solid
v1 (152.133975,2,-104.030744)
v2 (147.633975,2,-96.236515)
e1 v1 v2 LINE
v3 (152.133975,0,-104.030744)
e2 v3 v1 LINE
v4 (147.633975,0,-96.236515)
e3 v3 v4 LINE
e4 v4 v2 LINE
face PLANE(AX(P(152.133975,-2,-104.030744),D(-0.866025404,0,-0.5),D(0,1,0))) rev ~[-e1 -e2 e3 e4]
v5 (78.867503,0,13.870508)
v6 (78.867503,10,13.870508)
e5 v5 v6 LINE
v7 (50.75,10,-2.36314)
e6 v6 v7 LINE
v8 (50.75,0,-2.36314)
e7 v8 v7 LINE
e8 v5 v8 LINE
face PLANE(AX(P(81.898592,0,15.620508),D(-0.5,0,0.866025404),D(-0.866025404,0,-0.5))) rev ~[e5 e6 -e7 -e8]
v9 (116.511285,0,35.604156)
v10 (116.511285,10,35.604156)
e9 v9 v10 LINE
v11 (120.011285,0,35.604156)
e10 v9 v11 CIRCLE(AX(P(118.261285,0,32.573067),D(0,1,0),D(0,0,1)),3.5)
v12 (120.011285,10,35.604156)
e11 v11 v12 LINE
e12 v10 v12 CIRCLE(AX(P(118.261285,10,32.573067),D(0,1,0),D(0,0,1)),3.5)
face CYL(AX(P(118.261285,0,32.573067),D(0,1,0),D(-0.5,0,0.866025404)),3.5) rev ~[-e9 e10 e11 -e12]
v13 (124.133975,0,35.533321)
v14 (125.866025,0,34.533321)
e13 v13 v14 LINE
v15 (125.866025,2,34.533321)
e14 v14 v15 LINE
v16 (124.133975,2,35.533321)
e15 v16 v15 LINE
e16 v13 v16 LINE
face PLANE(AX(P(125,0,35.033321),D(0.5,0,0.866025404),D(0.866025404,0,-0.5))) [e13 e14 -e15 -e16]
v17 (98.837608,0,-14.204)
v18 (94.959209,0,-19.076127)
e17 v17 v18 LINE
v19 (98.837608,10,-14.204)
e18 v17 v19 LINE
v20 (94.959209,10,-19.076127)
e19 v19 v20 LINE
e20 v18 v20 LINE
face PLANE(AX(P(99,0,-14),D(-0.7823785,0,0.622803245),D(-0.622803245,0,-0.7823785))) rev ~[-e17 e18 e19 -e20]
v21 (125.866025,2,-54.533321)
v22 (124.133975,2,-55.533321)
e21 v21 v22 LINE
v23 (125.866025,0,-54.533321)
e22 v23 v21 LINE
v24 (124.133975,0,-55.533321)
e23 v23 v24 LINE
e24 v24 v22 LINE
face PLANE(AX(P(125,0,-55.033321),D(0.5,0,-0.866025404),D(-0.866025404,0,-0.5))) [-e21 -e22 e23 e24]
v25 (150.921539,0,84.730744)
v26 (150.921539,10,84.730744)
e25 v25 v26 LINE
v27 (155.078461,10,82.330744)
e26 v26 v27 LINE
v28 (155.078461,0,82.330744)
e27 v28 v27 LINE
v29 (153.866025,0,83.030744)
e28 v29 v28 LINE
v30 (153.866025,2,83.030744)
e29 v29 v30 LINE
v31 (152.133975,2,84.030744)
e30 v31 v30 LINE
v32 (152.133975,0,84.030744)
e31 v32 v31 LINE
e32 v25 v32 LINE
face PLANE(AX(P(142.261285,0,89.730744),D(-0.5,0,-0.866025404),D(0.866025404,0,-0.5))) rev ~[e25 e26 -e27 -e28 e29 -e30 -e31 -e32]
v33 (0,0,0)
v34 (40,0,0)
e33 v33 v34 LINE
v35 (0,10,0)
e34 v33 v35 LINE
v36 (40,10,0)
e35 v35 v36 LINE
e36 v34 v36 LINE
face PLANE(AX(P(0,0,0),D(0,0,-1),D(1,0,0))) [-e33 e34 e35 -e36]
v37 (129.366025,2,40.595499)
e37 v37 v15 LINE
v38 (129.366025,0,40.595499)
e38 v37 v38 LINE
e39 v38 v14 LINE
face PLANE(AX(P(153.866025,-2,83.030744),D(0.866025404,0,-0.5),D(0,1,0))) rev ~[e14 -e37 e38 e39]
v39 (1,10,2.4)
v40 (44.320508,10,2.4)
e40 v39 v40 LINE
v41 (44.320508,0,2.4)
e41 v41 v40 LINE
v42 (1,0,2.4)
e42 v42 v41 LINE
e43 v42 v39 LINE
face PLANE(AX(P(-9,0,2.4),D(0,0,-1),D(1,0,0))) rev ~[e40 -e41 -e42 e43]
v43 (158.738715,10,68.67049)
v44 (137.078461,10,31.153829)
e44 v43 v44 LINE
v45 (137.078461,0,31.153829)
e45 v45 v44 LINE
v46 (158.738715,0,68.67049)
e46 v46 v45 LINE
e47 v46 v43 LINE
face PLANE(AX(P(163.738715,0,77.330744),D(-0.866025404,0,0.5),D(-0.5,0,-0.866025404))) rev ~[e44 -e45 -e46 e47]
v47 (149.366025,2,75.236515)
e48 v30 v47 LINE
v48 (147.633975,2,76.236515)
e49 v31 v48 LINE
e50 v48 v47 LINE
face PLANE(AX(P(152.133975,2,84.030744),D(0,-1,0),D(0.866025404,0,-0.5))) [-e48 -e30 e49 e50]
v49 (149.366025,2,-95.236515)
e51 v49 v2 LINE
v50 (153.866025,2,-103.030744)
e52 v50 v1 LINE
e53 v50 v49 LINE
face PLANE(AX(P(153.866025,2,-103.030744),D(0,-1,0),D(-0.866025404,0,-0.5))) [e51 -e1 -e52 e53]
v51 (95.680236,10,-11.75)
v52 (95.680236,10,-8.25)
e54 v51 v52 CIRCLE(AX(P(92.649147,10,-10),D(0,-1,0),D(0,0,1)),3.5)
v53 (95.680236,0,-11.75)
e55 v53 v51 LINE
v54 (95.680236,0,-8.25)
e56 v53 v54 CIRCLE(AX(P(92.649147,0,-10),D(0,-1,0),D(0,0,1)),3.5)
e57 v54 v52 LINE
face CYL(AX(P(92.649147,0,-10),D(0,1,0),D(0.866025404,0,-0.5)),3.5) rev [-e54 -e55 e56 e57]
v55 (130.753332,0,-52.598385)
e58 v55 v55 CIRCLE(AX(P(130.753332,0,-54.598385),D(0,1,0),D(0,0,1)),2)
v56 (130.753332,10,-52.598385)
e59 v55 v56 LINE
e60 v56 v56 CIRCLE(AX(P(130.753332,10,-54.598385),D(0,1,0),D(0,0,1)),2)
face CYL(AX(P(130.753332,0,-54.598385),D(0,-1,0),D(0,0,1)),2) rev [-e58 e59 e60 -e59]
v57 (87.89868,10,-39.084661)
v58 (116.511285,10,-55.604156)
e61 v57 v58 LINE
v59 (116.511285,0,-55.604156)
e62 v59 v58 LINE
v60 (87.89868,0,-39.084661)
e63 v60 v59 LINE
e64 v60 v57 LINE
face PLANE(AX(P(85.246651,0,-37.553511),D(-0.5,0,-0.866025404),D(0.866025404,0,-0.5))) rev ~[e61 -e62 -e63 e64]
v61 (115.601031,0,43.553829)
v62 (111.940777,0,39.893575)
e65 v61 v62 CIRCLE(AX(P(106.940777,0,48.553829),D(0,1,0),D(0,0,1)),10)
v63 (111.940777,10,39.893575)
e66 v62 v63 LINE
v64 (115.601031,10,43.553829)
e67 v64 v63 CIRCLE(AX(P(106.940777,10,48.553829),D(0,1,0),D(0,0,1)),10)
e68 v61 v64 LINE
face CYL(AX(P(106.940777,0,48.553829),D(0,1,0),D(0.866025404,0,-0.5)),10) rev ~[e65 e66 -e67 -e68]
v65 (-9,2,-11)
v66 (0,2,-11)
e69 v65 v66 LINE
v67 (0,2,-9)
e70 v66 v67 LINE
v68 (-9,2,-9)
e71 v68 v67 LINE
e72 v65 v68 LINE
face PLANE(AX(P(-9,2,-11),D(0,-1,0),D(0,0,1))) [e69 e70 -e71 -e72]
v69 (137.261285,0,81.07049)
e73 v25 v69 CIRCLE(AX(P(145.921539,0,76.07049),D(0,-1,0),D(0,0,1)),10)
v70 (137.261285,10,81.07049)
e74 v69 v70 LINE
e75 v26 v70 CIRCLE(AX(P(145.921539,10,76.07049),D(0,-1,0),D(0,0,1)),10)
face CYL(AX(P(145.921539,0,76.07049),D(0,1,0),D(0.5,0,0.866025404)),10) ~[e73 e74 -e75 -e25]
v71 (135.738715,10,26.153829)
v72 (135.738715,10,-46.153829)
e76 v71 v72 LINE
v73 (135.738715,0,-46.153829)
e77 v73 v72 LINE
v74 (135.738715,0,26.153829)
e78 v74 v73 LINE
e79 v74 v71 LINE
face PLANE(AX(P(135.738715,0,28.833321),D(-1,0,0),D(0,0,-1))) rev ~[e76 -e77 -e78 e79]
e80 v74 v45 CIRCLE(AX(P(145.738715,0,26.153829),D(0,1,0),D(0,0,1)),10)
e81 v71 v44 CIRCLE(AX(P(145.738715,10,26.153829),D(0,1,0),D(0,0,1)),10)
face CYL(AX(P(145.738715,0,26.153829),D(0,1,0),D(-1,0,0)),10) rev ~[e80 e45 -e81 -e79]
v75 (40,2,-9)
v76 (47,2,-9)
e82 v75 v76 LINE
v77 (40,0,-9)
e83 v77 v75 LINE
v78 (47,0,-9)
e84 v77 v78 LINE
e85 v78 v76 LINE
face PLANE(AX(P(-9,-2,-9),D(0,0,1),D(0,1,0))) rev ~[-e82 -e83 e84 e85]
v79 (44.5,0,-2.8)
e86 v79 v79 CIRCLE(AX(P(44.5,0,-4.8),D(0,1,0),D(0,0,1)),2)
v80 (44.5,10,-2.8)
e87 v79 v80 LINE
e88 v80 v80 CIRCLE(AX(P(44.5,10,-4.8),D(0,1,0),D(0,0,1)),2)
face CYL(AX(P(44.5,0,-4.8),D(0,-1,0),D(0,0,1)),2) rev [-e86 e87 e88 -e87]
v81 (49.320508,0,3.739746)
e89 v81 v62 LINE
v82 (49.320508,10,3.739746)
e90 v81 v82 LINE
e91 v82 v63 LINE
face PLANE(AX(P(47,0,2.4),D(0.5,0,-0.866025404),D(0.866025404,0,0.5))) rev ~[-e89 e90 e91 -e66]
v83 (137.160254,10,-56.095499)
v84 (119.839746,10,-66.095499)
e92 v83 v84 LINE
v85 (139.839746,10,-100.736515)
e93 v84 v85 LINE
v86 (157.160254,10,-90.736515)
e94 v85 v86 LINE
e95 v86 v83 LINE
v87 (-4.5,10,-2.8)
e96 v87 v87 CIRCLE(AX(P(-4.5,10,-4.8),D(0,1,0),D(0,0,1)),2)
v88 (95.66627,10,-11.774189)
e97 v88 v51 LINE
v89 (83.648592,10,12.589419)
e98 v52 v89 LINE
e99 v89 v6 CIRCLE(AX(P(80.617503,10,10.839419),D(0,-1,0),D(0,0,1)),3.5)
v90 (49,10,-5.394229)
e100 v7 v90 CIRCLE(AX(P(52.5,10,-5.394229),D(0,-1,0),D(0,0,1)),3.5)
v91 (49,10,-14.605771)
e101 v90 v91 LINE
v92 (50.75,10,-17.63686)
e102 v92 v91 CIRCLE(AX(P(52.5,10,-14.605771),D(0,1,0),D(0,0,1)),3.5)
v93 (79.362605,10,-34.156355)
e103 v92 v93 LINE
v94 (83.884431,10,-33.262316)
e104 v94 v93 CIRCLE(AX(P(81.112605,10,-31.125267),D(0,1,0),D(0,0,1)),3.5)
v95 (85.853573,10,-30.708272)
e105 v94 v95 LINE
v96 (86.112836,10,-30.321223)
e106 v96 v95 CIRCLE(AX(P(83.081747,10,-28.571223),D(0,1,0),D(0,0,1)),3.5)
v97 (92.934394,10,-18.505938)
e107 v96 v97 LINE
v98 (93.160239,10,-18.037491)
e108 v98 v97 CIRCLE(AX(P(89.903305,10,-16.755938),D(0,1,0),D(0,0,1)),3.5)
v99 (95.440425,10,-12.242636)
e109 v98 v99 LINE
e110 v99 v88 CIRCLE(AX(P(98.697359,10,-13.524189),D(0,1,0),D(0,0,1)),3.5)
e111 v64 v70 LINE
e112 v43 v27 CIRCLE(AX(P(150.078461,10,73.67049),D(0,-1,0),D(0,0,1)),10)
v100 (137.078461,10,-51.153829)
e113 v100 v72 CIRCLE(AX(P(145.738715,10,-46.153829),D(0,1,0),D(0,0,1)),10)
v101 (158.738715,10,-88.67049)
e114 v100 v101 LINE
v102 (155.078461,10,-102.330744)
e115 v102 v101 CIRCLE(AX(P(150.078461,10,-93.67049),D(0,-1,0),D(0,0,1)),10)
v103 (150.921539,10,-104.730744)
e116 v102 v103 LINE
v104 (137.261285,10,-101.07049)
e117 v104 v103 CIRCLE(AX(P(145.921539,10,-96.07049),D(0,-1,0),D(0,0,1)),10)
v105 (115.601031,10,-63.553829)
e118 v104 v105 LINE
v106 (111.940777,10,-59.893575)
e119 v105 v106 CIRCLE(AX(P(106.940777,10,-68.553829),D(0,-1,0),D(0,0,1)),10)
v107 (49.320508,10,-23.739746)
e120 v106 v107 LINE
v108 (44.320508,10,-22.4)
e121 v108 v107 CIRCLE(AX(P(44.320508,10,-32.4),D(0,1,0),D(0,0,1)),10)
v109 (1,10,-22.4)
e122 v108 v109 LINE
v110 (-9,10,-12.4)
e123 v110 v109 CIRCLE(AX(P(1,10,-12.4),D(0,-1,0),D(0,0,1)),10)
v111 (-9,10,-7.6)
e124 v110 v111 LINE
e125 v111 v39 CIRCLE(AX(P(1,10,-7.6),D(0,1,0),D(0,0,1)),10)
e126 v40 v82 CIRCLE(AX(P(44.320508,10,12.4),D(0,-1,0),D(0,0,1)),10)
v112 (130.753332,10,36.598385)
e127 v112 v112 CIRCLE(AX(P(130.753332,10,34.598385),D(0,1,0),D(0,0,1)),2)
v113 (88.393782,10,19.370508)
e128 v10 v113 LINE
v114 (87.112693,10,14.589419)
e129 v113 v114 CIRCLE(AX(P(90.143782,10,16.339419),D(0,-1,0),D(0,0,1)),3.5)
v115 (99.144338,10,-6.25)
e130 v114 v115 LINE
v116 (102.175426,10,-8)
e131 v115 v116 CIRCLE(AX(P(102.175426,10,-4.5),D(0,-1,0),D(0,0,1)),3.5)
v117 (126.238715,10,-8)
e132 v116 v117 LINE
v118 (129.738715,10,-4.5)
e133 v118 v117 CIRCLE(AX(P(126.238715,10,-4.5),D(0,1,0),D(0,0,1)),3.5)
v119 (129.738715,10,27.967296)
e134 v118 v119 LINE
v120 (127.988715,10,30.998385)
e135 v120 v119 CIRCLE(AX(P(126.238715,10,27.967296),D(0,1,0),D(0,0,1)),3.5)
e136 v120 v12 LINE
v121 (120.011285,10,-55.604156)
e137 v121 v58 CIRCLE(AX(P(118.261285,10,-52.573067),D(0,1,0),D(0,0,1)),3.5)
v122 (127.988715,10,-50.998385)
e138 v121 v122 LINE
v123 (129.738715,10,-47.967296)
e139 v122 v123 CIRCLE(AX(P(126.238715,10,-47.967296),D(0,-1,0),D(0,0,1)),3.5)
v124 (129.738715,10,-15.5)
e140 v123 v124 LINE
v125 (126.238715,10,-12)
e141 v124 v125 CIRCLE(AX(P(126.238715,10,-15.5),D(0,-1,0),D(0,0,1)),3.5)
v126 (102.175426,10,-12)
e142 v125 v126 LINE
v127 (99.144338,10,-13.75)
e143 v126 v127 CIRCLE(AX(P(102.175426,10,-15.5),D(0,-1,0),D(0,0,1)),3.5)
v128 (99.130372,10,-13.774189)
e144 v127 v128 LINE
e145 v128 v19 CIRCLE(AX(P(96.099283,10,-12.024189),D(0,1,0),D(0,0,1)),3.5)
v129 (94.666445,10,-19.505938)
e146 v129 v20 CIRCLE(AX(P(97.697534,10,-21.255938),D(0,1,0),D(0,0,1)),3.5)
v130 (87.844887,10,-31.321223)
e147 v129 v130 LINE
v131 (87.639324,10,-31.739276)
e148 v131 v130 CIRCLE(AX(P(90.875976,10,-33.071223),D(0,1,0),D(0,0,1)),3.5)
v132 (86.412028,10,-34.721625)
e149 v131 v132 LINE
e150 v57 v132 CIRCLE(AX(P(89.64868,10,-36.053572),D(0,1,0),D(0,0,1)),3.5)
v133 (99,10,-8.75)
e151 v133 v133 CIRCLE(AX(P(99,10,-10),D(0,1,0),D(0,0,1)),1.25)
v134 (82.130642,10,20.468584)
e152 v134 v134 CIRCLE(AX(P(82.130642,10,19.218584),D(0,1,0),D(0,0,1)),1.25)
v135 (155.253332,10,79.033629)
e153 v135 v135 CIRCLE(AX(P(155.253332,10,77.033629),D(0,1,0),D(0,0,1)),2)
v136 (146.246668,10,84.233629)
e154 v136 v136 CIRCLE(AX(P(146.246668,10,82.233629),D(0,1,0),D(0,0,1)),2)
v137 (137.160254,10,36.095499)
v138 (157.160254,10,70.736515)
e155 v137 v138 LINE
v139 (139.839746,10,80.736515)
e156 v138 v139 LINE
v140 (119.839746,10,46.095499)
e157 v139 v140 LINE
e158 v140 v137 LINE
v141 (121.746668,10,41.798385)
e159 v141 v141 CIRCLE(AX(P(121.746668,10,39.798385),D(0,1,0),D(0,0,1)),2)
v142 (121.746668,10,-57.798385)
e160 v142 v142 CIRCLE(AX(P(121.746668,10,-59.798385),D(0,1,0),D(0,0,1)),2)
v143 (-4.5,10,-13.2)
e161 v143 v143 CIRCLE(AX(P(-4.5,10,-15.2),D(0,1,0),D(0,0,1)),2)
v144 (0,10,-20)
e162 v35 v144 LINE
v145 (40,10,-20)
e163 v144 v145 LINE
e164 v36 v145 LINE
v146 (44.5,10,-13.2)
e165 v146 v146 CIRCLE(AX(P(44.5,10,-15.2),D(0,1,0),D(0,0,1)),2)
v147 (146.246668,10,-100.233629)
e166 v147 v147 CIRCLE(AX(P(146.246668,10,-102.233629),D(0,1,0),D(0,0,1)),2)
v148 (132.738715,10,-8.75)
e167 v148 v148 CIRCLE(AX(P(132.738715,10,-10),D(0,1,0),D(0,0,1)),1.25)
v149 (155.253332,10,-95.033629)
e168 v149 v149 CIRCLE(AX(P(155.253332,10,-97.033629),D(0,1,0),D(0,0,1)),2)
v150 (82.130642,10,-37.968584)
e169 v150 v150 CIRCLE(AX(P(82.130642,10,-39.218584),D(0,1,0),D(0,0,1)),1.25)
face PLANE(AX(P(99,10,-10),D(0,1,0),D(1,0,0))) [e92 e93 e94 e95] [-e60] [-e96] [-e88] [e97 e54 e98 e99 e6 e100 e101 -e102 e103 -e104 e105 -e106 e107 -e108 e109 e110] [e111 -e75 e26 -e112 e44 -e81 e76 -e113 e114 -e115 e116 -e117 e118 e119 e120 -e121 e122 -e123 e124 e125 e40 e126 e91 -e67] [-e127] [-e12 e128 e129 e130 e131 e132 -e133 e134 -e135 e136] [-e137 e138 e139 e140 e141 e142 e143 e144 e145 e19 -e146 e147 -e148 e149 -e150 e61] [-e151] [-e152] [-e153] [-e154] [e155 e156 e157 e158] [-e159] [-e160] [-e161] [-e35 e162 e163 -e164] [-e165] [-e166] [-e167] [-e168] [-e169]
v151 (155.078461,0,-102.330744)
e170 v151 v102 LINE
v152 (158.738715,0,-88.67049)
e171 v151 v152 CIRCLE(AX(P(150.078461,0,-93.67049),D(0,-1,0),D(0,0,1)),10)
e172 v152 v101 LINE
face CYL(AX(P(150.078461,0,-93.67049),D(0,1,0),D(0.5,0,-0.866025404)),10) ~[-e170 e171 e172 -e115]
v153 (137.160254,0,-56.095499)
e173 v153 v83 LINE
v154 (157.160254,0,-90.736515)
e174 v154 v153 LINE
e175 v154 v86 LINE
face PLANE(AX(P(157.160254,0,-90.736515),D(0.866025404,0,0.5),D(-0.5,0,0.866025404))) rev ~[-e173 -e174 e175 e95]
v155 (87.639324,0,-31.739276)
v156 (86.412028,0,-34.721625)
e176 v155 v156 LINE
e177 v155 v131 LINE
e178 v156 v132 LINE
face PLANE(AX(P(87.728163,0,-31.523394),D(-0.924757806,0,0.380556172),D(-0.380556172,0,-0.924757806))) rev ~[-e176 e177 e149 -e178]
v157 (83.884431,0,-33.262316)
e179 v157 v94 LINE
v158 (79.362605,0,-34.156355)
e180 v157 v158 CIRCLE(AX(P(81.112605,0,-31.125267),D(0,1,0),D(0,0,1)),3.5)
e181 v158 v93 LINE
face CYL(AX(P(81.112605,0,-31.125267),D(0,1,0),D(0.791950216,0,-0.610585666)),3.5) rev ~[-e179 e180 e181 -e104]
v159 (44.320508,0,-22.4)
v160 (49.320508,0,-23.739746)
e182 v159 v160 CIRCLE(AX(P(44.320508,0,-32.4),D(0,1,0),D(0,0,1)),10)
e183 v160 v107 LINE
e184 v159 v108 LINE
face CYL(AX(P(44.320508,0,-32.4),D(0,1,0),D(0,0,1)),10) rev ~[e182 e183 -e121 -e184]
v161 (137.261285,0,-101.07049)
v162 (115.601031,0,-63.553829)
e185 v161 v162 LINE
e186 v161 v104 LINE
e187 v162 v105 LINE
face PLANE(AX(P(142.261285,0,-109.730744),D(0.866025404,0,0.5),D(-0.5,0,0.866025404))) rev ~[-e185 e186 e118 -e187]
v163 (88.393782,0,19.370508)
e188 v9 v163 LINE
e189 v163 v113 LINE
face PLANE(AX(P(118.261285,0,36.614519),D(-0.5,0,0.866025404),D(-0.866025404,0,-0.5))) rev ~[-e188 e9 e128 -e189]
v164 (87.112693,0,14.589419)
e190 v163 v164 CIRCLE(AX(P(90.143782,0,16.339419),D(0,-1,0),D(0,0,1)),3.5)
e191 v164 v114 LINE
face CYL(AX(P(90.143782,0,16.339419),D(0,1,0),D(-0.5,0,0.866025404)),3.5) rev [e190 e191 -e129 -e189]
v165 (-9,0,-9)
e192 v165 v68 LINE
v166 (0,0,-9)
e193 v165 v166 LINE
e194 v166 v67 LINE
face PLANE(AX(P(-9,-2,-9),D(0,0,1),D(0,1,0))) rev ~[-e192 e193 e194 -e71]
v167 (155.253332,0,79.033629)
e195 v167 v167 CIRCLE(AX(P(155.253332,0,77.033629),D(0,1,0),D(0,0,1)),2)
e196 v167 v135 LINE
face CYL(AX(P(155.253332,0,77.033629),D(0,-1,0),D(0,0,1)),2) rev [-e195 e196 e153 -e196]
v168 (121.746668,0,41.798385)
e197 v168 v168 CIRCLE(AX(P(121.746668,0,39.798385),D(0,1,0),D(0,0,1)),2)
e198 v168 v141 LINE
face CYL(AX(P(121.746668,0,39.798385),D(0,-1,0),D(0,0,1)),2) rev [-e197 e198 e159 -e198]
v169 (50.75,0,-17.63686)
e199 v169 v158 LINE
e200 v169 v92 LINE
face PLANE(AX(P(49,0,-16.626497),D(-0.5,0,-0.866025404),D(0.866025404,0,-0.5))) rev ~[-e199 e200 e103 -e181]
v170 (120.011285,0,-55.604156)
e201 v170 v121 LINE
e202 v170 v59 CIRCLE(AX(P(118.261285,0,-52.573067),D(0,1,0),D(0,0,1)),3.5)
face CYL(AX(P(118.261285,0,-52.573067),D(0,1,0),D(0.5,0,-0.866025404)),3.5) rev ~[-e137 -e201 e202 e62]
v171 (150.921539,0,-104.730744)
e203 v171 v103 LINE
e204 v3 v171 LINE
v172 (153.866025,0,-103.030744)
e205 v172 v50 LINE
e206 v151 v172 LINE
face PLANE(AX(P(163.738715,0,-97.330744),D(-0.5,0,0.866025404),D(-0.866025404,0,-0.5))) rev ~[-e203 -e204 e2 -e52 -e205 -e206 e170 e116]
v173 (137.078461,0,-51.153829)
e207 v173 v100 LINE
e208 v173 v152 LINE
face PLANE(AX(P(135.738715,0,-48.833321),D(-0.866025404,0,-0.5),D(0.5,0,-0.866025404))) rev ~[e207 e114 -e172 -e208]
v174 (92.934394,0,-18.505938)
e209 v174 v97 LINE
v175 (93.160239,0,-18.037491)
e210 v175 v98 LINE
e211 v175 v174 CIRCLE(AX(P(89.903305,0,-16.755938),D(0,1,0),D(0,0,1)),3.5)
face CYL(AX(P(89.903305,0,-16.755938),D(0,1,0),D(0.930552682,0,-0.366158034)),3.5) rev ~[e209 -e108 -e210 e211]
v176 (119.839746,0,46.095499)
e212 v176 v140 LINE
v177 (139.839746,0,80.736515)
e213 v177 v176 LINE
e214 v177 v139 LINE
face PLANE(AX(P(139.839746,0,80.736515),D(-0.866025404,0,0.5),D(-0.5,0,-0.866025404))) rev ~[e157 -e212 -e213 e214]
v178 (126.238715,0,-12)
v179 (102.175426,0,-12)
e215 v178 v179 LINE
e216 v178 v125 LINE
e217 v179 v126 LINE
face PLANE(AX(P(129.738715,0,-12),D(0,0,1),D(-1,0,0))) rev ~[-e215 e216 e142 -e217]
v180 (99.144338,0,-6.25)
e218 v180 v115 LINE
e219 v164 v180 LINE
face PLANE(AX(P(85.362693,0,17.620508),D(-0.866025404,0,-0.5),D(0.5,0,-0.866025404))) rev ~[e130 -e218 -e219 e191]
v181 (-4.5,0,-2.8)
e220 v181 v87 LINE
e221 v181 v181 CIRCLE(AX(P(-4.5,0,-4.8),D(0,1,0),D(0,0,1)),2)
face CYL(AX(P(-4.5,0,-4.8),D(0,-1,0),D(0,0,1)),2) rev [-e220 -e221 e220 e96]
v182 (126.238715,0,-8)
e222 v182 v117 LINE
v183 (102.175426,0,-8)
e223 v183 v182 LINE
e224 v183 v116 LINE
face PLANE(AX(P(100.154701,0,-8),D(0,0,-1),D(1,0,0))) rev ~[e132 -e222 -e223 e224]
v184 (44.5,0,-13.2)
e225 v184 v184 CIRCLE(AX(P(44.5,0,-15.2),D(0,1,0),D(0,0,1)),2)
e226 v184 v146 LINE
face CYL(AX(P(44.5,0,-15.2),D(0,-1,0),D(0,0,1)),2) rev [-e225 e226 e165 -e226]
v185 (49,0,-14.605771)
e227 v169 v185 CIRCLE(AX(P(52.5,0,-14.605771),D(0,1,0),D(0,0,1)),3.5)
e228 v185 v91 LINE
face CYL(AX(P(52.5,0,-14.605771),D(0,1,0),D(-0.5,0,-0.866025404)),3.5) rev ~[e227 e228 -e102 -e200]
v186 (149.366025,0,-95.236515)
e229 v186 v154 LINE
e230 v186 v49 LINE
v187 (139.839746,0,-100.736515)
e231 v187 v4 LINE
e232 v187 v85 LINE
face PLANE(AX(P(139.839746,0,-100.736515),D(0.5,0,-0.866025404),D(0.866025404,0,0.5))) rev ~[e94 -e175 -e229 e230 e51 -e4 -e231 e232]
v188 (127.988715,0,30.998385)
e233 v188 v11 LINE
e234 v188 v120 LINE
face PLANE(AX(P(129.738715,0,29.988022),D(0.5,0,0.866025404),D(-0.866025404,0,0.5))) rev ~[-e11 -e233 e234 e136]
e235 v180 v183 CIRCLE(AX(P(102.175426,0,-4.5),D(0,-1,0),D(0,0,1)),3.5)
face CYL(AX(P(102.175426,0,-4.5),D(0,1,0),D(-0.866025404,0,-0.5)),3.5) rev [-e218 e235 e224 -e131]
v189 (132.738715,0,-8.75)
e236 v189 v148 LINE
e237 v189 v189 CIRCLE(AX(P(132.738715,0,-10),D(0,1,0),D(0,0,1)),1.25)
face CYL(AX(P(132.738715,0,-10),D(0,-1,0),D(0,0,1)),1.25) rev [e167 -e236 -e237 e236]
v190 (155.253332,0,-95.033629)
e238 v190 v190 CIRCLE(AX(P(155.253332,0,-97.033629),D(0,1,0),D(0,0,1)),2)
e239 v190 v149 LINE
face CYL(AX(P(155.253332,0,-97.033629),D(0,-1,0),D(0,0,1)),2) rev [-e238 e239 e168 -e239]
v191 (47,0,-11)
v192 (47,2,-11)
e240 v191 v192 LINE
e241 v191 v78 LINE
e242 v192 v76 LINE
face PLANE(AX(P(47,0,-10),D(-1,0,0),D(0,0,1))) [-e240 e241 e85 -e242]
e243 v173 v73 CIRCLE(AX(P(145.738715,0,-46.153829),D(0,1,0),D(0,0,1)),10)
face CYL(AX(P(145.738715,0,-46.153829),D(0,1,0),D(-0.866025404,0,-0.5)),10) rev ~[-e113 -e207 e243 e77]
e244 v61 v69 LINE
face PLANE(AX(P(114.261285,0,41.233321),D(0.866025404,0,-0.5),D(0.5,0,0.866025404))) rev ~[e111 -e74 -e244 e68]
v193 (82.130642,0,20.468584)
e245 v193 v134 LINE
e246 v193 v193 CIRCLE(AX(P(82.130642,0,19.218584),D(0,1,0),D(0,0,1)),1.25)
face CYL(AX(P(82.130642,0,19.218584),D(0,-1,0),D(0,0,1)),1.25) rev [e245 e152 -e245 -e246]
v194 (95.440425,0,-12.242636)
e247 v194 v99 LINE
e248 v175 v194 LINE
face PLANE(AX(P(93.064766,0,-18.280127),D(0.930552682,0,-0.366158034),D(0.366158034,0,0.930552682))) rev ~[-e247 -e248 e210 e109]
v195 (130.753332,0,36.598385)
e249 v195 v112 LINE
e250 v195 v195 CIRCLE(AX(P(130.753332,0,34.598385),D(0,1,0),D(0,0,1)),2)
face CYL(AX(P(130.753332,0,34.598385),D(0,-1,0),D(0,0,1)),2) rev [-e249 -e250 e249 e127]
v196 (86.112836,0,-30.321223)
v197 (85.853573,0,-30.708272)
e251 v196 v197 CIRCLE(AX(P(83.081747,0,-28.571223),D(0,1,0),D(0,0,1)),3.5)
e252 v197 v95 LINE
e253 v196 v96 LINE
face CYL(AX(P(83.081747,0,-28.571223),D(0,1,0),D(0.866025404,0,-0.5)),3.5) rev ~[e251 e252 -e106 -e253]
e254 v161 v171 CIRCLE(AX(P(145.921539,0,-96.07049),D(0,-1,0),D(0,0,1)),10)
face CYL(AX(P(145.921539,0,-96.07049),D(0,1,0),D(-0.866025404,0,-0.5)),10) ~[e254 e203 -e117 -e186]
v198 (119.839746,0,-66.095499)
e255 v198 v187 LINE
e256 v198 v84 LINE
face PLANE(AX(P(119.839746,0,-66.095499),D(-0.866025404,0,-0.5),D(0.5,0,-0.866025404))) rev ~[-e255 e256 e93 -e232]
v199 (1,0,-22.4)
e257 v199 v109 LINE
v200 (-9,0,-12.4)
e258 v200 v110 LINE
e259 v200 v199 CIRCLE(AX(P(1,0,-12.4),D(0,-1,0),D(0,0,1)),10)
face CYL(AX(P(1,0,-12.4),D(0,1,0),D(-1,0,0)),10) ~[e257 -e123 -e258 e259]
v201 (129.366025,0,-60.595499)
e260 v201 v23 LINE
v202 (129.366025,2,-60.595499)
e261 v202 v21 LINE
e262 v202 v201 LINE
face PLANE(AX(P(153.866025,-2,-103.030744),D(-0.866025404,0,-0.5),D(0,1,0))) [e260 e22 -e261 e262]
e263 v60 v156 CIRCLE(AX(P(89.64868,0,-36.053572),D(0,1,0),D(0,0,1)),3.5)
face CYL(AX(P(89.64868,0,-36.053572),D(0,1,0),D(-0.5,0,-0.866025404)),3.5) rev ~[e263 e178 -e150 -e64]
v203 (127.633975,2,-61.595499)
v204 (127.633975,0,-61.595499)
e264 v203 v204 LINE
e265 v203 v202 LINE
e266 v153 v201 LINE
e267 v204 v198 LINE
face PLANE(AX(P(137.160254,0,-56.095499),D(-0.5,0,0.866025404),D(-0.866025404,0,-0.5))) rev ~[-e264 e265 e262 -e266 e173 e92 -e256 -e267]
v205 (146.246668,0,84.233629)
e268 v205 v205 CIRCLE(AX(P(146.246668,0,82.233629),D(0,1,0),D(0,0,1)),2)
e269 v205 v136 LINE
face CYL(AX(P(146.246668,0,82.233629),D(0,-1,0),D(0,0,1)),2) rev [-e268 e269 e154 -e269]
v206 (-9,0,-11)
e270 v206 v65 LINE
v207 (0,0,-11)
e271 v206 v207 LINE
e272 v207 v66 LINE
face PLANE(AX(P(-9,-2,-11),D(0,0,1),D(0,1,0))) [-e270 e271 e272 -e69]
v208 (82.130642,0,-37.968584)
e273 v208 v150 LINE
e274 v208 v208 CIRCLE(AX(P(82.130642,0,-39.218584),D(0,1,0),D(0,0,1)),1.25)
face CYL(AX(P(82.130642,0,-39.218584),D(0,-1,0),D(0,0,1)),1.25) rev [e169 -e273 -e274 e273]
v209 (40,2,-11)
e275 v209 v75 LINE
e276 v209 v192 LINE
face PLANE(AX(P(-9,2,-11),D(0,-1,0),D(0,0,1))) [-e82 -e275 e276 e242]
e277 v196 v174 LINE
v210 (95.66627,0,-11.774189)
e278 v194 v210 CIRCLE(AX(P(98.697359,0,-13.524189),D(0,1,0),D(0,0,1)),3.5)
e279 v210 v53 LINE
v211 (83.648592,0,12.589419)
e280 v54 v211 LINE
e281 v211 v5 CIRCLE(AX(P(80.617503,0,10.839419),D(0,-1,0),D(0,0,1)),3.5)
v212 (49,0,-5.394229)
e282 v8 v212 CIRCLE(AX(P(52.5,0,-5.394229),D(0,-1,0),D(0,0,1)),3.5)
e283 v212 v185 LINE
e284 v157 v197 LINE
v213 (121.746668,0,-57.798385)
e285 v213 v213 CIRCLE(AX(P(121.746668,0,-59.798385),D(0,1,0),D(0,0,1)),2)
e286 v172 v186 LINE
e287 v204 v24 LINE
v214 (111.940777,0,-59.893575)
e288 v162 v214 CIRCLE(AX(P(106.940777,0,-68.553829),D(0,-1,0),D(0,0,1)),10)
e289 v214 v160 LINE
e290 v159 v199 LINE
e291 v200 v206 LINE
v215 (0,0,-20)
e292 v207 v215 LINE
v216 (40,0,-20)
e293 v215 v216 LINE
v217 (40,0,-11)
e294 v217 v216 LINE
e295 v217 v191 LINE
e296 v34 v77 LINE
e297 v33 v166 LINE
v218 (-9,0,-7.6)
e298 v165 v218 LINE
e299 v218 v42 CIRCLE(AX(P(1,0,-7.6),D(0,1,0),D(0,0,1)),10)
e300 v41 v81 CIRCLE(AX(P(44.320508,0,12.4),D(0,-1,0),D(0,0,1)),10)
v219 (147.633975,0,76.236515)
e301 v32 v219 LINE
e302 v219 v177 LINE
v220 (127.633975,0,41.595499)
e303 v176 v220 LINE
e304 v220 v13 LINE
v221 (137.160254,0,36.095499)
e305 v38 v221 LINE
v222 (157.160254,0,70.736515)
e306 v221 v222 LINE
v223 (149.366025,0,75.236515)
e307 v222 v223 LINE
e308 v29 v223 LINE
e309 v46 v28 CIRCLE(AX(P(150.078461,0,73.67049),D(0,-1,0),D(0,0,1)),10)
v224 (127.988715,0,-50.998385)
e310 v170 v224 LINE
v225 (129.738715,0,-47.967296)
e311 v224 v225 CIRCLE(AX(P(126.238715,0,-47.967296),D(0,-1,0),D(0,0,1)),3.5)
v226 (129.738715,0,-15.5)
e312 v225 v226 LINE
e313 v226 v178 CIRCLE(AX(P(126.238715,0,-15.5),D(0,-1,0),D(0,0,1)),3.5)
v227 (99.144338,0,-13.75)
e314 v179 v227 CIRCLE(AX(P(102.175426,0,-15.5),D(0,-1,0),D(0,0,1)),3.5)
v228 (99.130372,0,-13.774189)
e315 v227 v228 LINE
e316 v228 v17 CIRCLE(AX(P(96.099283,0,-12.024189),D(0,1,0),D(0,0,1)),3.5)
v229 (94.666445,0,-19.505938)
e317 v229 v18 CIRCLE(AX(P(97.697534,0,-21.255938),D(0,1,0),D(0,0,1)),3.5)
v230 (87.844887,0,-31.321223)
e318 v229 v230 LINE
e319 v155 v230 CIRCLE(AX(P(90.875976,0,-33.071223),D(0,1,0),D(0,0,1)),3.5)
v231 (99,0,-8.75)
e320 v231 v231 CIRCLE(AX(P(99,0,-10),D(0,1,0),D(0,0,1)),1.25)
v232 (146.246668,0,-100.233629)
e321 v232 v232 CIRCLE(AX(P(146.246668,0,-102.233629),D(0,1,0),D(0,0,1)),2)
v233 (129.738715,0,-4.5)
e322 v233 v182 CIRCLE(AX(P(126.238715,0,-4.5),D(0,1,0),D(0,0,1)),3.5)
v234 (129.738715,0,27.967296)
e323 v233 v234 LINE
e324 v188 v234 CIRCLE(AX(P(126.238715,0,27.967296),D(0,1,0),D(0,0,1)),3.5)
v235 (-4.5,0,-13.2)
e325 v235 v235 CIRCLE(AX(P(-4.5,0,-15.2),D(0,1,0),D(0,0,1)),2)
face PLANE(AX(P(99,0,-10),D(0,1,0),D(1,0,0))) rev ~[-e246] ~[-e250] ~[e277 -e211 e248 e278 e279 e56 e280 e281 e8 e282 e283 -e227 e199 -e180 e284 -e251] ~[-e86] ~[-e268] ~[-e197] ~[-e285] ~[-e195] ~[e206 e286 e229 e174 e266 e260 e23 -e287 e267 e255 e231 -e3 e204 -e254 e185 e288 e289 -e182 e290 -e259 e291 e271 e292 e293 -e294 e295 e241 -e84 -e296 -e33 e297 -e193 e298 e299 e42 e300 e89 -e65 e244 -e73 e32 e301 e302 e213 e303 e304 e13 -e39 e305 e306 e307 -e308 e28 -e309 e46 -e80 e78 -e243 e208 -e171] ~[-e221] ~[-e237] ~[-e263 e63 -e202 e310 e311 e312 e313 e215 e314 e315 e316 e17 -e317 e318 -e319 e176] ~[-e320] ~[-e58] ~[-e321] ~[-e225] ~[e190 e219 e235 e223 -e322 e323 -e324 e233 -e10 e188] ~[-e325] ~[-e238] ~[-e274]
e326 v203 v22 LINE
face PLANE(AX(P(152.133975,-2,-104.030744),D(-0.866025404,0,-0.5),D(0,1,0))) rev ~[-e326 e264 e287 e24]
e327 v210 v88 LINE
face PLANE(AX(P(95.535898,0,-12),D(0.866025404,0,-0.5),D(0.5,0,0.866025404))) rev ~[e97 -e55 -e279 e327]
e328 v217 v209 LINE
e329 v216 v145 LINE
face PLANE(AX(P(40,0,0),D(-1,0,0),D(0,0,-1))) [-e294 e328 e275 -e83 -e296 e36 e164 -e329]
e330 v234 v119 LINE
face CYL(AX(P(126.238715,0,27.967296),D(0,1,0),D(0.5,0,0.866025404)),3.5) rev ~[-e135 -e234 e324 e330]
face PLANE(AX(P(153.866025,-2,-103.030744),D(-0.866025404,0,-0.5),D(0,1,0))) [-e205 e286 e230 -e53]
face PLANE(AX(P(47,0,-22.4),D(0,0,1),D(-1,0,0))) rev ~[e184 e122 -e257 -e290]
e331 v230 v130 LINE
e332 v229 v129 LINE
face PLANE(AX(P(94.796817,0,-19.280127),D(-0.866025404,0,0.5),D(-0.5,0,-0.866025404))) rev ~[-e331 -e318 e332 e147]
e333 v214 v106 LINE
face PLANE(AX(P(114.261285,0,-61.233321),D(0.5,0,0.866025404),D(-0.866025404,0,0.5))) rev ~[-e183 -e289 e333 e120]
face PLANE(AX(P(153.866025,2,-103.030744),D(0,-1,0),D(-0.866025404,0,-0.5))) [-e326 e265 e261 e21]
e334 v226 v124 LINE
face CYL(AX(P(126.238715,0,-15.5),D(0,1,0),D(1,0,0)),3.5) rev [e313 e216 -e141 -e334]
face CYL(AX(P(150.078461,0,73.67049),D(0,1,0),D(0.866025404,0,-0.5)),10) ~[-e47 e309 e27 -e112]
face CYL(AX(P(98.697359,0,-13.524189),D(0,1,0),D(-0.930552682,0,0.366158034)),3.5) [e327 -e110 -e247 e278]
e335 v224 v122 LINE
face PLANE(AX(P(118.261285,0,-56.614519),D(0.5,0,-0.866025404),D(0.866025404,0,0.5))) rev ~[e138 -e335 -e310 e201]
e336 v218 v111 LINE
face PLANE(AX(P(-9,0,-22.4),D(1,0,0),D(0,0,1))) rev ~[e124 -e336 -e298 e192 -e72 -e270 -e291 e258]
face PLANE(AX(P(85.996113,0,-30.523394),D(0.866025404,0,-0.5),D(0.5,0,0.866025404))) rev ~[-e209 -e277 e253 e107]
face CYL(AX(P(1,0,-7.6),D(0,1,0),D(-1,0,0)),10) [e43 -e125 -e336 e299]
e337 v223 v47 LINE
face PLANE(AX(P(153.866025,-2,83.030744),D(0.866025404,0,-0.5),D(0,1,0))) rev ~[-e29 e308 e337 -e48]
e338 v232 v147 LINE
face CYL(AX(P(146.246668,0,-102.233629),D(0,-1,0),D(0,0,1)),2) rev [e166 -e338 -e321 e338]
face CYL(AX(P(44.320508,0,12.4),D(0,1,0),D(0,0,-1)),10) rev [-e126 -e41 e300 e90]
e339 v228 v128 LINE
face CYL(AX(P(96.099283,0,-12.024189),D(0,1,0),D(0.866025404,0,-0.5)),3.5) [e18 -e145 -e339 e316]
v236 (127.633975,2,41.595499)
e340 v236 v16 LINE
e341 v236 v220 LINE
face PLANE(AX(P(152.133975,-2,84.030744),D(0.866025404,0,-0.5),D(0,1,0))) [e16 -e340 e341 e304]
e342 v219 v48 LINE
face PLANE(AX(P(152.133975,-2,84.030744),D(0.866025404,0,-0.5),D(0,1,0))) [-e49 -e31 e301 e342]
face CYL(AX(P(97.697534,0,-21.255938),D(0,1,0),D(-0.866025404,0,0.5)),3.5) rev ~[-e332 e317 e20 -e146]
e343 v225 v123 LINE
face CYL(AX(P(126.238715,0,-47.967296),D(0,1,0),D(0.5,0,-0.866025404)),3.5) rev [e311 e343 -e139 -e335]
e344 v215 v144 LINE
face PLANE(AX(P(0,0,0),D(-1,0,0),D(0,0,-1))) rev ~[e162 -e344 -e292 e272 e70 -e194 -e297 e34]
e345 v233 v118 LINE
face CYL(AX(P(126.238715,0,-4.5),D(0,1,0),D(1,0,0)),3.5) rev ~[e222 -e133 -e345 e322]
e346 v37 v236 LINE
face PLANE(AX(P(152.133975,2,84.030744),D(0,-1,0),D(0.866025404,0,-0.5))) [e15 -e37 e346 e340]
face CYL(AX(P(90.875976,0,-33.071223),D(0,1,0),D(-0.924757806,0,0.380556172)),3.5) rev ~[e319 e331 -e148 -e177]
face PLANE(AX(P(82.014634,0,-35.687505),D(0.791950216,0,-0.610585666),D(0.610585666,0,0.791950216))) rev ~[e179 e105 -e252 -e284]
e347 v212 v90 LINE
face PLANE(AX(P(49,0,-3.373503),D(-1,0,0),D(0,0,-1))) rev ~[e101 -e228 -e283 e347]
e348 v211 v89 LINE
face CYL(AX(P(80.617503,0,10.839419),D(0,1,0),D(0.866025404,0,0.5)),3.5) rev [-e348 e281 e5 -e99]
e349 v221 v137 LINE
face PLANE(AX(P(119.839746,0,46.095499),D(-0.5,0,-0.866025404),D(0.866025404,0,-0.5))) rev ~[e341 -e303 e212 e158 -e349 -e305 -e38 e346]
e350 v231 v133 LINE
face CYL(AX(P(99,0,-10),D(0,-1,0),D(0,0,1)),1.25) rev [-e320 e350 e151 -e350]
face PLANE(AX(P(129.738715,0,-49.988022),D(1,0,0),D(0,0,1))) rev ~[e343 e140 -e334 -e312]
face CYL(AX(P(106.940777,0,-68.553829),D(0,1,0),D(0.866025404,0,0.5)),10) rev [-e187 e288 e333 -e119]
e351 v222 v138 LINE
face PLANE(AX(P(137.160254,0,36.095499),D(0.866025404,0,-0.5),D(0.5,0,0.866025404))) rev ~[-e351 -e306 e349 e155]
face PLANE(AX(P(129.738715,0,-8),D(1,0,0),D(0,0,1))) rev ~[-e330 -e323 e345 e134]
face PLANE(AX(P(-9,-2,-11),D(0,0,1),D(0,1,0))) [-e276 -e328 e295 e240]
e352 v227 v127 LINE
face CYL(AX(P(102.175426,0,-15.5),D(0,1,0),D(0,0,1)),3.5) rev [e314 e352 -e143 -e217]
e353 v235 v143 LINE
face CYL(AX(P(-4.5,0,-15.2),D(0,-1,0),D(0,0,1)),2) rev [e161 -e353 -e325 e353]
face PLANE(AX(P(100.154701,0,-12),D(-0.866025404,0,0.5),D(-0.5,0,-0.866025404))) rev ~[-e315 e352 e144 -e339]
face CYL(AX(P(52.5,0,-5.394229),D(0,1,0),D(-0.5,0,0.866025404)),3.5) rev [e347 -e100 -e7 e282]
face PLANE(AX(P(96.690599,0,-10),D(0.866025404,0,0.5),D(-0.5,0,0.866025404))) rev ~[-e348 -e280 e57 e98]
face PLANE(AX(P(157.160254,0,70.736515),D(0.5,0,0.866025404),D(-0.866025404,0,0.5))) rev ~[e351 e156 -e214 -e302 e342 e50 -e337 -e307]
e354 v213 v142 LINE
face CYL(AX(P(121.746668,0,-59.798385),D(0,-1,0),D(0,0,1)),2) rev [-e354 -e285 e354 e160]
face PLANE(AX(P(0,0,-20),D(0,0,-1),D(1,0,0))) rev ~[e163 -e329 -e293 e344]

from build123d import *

# Parameters (mm, degrees)
SKETCH1_R           = 2
SKETCH1_R_2         = 1.25
SKETCH1_W           = 40
SKETCH1_H           = 20
BOSS_EXTRUDE1_DEPTH = 10
SKETCH2_W           = 2
SKETCH2_H           = 4
CUT_EXTRUDE1_DEPTH  = 56
SKETCH3_W           = 2
SKETCH3_H           = 4
CUT_EXTRUDE2_DEPTH  = 56
SKETCH4_W           = 2
SKETCH4_H           = 4
CUT_EXTRUDE3_DEPTH  = 56
FILLET1_R           = 10
FILLET2_R           = 3.5


with BuildPart() as part:
    # Sketch1 → Boss-Extrude1 (new body)
    with BuildSketch(Plane(origin=(0, 0, 0), x_dir=(1, 0, 0), z_dir=(0, 1, 0))):
        Polygon((-9, 22.4), (-9, -2.4), (47, -2.4), (114.261284993, -41.233320997), (142.261284993, -89.730743609), (163.738715007, -77.330743609), (135.738715007, -28.833320997), (135.738715007, 48.833320997), (163.738715007, 97.330743609), (142.261284993, 109.730743609), (114.261284993, 61.233320997), (47, 22.4), align=None)
        with Locations(Location((-4.5, 4.8, 0), (0, 0, 270))):
            Circle(SKETCH1_R, mode=Mode.SUBTRACT)
        with Locations(Location((44.5, 4.8, 0), (0, 0, 270))):
            Circle(SKETCH1_R, mode=Mode.SUBTRACT)
        with Locations(Location((146.2466679, -82.233629292, 0), (0, 0, 270))):
            Circle(SKETCH1_R, mode=Mode.SUBTRACT)
        with Locations(Location((155.2533321, -77.033629292, 0), (0, 0, 270))):
            Circle(SKETCH1_R, mode=Mode.SUBTRACT)
        with Locations(Location((121.7466679, -39.798384506, 0), (0, 0, 270))):
            Circle(SKETCH1_R, mode=Mode.SUBTRACT)
        Polygon((157.160254038, -70.736514975), (139.839745962, -80.736514975), (119.839745962, -46.095498823), (137.160254038, -36.095498823), align=None, mode=Mode.SUBTRACT)
        with Locations(Location((82.130642497, -19.218584287, 0), (0, 0, 270))):
            Circle(SKETCH1_R_2, mode=Mode.SUBTRACT)
        Polygon((85.362693304, -17.620508076), (100.154700538, 8), (129.738715007, 8), (129.738715007, -29.988021535), (118.261284993, -36.614518843), align=None, mode=Mode.SUBTRACT)
        with Locations(Location((130.7533321, -34.598384506, 0), (0, 0, 270))):
            Circle(SKETCH1_R, mode=Mode.SUBTRACT)
        with Locations(Location((-4.5, 15.2, 0), (0, 0, 270))):
            Circle(SKETCH1_R, mode=Mode.SUBTRACT)
        with Locations((20, 10)):
            Rectangle(SKETCH1_W, SKETCH1_H, mode=Mode.SUBTRACT)
        with Locations(Location((44.5, 15.2, 0), (0, 0, 270))):
            Circle(SKETCH1_R, mode=Mode.SUBTRACT)
        Polygon((95.535898385, 12), (96.690598923, 10), (81.898591689, -15.620508076), (49, 3.373502692), (49, 16.626497308), (82.014634361, 35.687505343), (85.99611255, 30.523393759), (93.064765898, 18.280127019), align=None, mode=Mode.SUBTRACT)
        with Locations(Location((99, 10, 0), (0, 0, 270))):
            Circle(SKETCH1_R_2, mode=Mode.SUBTRACT)
        with Locations(Location((82.130642497, 39.218584287, 0), (0, 0, 270))):
            Circle(SKETCH1_R_2, mode=Mode.SUBTRACT)
        Polygon((129.738715007, 49.988021535), (129.738715007, 12), (100.154700538, 12), (99, 14), (94.796816706, 19.280127019), (87.728163358, 31.523393759), (85.246650633, 37.553510808), (118.261284993, 56.614518843), align=None, mode=Mode.SUBTRACT)
        with Locations(Location((132.738715007, 10, 0), (0, 0, 270))):
            Circle(SKETCH1_R_2, mode=Mode.SUBTRACT)
        with Locations(Location((130.7533321, 54.598384506, 0), (0, 0, 270))):
            Circle(SKETCH1_R, mode=Mode.SUBTRACT)
        with Locations(Location((121.7466679, 59.798384506, 0), (0, 0, 270))):
            Circle(SKETCH1_R, mode=Mode.SUBTRACT)
        Polygon((119.839745962, 66.095498823), (139.839745962, 100.736514975), (157.160254038, 90.736514975), (137.160254038, 56.095498823), align=None, mode=Mode.SUBTRACT)
        with Locations(Location((146.2466679, 102.233629292, 0), (0, 0, 270))):
            Circle(SKETCH1_R, mode=Mode.SUBTRACT)
        with Locations(Location((155.2533321, 97.033629292, 0), (0, 0, 270))):
            Circle(SKETCH1_R, mode=Mode.SUBTRACT)
    extrude(amount=BOSS_EXTRUDE1_DEPTH)

    # Sketch2 → Cut-Extrude1 (cut)
    with BuildSketch(Plane.ZY.offset(9)):
        with Locations((-10, 0)):
            Rectangle(SKETCH2_W, SKETCH2_H)
    extrude(amount=-CUT_EXTRUDE1_DEPTH, mode=Mode.SUBTRACT)

    # Sketch3 → Cut-Extrude2 (cut)
    with BuildSketch(Plane(origin=(74.419872981, 0, 128.899001096), x_dir=(0.8660254037844434, 0, -0.49999999999999173), z_dir=(0.49999999999999173, 0, 0.8660254037844434))):
        with Locations((90.736514975, 0)):
            Rectangle(SKETCH3_W, SKETCH3_H)
    extrude(amount=-CUT_EXTRUDE2_DEPTH, mode=Mode.SUBTRACT)

    # Sketch4 → Cut-Extrude3 (cut)
    with BuildSketch(Plane(origin=(83.080127019, 0, -143.899001096), x_dir=(-0.8660254037844363, 0, -0.5000000000000043), z_dir=(0.5000000000000043, 0, -0.8660254037844363))):
        with Locations((-80.736514975, 0)):
            Rectangle(SKETCH4_W, SKETCH4_H)
    extrude(amount=-CUT_EXTRUDE3_DEPTH, mode=Mode.SUBTRACT)

    # Fillet1
    fillet1_edges = [part.edges().sort_by_distance(p)[0] for p in [
        (135.738715007, 5, 28.833320997),
        (163.738715007, 5, 77.330743609),
        (142.261284993, 5, 89.730743609),
        (114.261284993, 5, 41.233320997),
        (47, 5, 2.4),
        (-9, 5, 2.4),
        (-9, 5, -22.4),
        (47, 5, -22.4),
        (114.261284993, 5, -61.233320997),
        (142.261284993, 5, -109.730743609),
        (163.738715007, 5, -97.330743609),
        (135.738715007, 5, -48.833320997),
    ]]
    fillet(fillet1_edges, radius=FILLET1_R)

    # Fillet2
    fillet2_edges = [part.edges().sort_by_distance(p)[0] for p in [
        (49, 5, -16.626497308),
        (49, 5, -3.373502692),
        (81.898591689, 5, 15.620508076),
        (96.690598923, 5, -10),
        (95.535898385, 5, -12),
        (93.064765898, 5, -18.280127019),
        (85.99611255, 5, -30.523393759),
        (82.014634361, 5, -35.687505343),
        (87.728163358, 5, -31.523393759),
        (94.796816706, 5, -19.280127019),
        (99, 5, -14),
        (100.154700538, 5, -12),
        (129.738715007, 5, -12),
        (129.738715007, 5, -49.988021535),
        (118.261284993, 5, -56.614518843),
        (85.246650633, 5, -37.553510808),
        (100.154700538, 5, -8),
        (85.362693304, 5, 17.620508076),
        (118.261284993, 5, 36.614518843),
        (129.738715007, 5, 29.988021535),
        (129.738715007, 5, -8),
    ]]
    fillet(fillet2_edges, radius=FILLET2_R)


solid = part.part
